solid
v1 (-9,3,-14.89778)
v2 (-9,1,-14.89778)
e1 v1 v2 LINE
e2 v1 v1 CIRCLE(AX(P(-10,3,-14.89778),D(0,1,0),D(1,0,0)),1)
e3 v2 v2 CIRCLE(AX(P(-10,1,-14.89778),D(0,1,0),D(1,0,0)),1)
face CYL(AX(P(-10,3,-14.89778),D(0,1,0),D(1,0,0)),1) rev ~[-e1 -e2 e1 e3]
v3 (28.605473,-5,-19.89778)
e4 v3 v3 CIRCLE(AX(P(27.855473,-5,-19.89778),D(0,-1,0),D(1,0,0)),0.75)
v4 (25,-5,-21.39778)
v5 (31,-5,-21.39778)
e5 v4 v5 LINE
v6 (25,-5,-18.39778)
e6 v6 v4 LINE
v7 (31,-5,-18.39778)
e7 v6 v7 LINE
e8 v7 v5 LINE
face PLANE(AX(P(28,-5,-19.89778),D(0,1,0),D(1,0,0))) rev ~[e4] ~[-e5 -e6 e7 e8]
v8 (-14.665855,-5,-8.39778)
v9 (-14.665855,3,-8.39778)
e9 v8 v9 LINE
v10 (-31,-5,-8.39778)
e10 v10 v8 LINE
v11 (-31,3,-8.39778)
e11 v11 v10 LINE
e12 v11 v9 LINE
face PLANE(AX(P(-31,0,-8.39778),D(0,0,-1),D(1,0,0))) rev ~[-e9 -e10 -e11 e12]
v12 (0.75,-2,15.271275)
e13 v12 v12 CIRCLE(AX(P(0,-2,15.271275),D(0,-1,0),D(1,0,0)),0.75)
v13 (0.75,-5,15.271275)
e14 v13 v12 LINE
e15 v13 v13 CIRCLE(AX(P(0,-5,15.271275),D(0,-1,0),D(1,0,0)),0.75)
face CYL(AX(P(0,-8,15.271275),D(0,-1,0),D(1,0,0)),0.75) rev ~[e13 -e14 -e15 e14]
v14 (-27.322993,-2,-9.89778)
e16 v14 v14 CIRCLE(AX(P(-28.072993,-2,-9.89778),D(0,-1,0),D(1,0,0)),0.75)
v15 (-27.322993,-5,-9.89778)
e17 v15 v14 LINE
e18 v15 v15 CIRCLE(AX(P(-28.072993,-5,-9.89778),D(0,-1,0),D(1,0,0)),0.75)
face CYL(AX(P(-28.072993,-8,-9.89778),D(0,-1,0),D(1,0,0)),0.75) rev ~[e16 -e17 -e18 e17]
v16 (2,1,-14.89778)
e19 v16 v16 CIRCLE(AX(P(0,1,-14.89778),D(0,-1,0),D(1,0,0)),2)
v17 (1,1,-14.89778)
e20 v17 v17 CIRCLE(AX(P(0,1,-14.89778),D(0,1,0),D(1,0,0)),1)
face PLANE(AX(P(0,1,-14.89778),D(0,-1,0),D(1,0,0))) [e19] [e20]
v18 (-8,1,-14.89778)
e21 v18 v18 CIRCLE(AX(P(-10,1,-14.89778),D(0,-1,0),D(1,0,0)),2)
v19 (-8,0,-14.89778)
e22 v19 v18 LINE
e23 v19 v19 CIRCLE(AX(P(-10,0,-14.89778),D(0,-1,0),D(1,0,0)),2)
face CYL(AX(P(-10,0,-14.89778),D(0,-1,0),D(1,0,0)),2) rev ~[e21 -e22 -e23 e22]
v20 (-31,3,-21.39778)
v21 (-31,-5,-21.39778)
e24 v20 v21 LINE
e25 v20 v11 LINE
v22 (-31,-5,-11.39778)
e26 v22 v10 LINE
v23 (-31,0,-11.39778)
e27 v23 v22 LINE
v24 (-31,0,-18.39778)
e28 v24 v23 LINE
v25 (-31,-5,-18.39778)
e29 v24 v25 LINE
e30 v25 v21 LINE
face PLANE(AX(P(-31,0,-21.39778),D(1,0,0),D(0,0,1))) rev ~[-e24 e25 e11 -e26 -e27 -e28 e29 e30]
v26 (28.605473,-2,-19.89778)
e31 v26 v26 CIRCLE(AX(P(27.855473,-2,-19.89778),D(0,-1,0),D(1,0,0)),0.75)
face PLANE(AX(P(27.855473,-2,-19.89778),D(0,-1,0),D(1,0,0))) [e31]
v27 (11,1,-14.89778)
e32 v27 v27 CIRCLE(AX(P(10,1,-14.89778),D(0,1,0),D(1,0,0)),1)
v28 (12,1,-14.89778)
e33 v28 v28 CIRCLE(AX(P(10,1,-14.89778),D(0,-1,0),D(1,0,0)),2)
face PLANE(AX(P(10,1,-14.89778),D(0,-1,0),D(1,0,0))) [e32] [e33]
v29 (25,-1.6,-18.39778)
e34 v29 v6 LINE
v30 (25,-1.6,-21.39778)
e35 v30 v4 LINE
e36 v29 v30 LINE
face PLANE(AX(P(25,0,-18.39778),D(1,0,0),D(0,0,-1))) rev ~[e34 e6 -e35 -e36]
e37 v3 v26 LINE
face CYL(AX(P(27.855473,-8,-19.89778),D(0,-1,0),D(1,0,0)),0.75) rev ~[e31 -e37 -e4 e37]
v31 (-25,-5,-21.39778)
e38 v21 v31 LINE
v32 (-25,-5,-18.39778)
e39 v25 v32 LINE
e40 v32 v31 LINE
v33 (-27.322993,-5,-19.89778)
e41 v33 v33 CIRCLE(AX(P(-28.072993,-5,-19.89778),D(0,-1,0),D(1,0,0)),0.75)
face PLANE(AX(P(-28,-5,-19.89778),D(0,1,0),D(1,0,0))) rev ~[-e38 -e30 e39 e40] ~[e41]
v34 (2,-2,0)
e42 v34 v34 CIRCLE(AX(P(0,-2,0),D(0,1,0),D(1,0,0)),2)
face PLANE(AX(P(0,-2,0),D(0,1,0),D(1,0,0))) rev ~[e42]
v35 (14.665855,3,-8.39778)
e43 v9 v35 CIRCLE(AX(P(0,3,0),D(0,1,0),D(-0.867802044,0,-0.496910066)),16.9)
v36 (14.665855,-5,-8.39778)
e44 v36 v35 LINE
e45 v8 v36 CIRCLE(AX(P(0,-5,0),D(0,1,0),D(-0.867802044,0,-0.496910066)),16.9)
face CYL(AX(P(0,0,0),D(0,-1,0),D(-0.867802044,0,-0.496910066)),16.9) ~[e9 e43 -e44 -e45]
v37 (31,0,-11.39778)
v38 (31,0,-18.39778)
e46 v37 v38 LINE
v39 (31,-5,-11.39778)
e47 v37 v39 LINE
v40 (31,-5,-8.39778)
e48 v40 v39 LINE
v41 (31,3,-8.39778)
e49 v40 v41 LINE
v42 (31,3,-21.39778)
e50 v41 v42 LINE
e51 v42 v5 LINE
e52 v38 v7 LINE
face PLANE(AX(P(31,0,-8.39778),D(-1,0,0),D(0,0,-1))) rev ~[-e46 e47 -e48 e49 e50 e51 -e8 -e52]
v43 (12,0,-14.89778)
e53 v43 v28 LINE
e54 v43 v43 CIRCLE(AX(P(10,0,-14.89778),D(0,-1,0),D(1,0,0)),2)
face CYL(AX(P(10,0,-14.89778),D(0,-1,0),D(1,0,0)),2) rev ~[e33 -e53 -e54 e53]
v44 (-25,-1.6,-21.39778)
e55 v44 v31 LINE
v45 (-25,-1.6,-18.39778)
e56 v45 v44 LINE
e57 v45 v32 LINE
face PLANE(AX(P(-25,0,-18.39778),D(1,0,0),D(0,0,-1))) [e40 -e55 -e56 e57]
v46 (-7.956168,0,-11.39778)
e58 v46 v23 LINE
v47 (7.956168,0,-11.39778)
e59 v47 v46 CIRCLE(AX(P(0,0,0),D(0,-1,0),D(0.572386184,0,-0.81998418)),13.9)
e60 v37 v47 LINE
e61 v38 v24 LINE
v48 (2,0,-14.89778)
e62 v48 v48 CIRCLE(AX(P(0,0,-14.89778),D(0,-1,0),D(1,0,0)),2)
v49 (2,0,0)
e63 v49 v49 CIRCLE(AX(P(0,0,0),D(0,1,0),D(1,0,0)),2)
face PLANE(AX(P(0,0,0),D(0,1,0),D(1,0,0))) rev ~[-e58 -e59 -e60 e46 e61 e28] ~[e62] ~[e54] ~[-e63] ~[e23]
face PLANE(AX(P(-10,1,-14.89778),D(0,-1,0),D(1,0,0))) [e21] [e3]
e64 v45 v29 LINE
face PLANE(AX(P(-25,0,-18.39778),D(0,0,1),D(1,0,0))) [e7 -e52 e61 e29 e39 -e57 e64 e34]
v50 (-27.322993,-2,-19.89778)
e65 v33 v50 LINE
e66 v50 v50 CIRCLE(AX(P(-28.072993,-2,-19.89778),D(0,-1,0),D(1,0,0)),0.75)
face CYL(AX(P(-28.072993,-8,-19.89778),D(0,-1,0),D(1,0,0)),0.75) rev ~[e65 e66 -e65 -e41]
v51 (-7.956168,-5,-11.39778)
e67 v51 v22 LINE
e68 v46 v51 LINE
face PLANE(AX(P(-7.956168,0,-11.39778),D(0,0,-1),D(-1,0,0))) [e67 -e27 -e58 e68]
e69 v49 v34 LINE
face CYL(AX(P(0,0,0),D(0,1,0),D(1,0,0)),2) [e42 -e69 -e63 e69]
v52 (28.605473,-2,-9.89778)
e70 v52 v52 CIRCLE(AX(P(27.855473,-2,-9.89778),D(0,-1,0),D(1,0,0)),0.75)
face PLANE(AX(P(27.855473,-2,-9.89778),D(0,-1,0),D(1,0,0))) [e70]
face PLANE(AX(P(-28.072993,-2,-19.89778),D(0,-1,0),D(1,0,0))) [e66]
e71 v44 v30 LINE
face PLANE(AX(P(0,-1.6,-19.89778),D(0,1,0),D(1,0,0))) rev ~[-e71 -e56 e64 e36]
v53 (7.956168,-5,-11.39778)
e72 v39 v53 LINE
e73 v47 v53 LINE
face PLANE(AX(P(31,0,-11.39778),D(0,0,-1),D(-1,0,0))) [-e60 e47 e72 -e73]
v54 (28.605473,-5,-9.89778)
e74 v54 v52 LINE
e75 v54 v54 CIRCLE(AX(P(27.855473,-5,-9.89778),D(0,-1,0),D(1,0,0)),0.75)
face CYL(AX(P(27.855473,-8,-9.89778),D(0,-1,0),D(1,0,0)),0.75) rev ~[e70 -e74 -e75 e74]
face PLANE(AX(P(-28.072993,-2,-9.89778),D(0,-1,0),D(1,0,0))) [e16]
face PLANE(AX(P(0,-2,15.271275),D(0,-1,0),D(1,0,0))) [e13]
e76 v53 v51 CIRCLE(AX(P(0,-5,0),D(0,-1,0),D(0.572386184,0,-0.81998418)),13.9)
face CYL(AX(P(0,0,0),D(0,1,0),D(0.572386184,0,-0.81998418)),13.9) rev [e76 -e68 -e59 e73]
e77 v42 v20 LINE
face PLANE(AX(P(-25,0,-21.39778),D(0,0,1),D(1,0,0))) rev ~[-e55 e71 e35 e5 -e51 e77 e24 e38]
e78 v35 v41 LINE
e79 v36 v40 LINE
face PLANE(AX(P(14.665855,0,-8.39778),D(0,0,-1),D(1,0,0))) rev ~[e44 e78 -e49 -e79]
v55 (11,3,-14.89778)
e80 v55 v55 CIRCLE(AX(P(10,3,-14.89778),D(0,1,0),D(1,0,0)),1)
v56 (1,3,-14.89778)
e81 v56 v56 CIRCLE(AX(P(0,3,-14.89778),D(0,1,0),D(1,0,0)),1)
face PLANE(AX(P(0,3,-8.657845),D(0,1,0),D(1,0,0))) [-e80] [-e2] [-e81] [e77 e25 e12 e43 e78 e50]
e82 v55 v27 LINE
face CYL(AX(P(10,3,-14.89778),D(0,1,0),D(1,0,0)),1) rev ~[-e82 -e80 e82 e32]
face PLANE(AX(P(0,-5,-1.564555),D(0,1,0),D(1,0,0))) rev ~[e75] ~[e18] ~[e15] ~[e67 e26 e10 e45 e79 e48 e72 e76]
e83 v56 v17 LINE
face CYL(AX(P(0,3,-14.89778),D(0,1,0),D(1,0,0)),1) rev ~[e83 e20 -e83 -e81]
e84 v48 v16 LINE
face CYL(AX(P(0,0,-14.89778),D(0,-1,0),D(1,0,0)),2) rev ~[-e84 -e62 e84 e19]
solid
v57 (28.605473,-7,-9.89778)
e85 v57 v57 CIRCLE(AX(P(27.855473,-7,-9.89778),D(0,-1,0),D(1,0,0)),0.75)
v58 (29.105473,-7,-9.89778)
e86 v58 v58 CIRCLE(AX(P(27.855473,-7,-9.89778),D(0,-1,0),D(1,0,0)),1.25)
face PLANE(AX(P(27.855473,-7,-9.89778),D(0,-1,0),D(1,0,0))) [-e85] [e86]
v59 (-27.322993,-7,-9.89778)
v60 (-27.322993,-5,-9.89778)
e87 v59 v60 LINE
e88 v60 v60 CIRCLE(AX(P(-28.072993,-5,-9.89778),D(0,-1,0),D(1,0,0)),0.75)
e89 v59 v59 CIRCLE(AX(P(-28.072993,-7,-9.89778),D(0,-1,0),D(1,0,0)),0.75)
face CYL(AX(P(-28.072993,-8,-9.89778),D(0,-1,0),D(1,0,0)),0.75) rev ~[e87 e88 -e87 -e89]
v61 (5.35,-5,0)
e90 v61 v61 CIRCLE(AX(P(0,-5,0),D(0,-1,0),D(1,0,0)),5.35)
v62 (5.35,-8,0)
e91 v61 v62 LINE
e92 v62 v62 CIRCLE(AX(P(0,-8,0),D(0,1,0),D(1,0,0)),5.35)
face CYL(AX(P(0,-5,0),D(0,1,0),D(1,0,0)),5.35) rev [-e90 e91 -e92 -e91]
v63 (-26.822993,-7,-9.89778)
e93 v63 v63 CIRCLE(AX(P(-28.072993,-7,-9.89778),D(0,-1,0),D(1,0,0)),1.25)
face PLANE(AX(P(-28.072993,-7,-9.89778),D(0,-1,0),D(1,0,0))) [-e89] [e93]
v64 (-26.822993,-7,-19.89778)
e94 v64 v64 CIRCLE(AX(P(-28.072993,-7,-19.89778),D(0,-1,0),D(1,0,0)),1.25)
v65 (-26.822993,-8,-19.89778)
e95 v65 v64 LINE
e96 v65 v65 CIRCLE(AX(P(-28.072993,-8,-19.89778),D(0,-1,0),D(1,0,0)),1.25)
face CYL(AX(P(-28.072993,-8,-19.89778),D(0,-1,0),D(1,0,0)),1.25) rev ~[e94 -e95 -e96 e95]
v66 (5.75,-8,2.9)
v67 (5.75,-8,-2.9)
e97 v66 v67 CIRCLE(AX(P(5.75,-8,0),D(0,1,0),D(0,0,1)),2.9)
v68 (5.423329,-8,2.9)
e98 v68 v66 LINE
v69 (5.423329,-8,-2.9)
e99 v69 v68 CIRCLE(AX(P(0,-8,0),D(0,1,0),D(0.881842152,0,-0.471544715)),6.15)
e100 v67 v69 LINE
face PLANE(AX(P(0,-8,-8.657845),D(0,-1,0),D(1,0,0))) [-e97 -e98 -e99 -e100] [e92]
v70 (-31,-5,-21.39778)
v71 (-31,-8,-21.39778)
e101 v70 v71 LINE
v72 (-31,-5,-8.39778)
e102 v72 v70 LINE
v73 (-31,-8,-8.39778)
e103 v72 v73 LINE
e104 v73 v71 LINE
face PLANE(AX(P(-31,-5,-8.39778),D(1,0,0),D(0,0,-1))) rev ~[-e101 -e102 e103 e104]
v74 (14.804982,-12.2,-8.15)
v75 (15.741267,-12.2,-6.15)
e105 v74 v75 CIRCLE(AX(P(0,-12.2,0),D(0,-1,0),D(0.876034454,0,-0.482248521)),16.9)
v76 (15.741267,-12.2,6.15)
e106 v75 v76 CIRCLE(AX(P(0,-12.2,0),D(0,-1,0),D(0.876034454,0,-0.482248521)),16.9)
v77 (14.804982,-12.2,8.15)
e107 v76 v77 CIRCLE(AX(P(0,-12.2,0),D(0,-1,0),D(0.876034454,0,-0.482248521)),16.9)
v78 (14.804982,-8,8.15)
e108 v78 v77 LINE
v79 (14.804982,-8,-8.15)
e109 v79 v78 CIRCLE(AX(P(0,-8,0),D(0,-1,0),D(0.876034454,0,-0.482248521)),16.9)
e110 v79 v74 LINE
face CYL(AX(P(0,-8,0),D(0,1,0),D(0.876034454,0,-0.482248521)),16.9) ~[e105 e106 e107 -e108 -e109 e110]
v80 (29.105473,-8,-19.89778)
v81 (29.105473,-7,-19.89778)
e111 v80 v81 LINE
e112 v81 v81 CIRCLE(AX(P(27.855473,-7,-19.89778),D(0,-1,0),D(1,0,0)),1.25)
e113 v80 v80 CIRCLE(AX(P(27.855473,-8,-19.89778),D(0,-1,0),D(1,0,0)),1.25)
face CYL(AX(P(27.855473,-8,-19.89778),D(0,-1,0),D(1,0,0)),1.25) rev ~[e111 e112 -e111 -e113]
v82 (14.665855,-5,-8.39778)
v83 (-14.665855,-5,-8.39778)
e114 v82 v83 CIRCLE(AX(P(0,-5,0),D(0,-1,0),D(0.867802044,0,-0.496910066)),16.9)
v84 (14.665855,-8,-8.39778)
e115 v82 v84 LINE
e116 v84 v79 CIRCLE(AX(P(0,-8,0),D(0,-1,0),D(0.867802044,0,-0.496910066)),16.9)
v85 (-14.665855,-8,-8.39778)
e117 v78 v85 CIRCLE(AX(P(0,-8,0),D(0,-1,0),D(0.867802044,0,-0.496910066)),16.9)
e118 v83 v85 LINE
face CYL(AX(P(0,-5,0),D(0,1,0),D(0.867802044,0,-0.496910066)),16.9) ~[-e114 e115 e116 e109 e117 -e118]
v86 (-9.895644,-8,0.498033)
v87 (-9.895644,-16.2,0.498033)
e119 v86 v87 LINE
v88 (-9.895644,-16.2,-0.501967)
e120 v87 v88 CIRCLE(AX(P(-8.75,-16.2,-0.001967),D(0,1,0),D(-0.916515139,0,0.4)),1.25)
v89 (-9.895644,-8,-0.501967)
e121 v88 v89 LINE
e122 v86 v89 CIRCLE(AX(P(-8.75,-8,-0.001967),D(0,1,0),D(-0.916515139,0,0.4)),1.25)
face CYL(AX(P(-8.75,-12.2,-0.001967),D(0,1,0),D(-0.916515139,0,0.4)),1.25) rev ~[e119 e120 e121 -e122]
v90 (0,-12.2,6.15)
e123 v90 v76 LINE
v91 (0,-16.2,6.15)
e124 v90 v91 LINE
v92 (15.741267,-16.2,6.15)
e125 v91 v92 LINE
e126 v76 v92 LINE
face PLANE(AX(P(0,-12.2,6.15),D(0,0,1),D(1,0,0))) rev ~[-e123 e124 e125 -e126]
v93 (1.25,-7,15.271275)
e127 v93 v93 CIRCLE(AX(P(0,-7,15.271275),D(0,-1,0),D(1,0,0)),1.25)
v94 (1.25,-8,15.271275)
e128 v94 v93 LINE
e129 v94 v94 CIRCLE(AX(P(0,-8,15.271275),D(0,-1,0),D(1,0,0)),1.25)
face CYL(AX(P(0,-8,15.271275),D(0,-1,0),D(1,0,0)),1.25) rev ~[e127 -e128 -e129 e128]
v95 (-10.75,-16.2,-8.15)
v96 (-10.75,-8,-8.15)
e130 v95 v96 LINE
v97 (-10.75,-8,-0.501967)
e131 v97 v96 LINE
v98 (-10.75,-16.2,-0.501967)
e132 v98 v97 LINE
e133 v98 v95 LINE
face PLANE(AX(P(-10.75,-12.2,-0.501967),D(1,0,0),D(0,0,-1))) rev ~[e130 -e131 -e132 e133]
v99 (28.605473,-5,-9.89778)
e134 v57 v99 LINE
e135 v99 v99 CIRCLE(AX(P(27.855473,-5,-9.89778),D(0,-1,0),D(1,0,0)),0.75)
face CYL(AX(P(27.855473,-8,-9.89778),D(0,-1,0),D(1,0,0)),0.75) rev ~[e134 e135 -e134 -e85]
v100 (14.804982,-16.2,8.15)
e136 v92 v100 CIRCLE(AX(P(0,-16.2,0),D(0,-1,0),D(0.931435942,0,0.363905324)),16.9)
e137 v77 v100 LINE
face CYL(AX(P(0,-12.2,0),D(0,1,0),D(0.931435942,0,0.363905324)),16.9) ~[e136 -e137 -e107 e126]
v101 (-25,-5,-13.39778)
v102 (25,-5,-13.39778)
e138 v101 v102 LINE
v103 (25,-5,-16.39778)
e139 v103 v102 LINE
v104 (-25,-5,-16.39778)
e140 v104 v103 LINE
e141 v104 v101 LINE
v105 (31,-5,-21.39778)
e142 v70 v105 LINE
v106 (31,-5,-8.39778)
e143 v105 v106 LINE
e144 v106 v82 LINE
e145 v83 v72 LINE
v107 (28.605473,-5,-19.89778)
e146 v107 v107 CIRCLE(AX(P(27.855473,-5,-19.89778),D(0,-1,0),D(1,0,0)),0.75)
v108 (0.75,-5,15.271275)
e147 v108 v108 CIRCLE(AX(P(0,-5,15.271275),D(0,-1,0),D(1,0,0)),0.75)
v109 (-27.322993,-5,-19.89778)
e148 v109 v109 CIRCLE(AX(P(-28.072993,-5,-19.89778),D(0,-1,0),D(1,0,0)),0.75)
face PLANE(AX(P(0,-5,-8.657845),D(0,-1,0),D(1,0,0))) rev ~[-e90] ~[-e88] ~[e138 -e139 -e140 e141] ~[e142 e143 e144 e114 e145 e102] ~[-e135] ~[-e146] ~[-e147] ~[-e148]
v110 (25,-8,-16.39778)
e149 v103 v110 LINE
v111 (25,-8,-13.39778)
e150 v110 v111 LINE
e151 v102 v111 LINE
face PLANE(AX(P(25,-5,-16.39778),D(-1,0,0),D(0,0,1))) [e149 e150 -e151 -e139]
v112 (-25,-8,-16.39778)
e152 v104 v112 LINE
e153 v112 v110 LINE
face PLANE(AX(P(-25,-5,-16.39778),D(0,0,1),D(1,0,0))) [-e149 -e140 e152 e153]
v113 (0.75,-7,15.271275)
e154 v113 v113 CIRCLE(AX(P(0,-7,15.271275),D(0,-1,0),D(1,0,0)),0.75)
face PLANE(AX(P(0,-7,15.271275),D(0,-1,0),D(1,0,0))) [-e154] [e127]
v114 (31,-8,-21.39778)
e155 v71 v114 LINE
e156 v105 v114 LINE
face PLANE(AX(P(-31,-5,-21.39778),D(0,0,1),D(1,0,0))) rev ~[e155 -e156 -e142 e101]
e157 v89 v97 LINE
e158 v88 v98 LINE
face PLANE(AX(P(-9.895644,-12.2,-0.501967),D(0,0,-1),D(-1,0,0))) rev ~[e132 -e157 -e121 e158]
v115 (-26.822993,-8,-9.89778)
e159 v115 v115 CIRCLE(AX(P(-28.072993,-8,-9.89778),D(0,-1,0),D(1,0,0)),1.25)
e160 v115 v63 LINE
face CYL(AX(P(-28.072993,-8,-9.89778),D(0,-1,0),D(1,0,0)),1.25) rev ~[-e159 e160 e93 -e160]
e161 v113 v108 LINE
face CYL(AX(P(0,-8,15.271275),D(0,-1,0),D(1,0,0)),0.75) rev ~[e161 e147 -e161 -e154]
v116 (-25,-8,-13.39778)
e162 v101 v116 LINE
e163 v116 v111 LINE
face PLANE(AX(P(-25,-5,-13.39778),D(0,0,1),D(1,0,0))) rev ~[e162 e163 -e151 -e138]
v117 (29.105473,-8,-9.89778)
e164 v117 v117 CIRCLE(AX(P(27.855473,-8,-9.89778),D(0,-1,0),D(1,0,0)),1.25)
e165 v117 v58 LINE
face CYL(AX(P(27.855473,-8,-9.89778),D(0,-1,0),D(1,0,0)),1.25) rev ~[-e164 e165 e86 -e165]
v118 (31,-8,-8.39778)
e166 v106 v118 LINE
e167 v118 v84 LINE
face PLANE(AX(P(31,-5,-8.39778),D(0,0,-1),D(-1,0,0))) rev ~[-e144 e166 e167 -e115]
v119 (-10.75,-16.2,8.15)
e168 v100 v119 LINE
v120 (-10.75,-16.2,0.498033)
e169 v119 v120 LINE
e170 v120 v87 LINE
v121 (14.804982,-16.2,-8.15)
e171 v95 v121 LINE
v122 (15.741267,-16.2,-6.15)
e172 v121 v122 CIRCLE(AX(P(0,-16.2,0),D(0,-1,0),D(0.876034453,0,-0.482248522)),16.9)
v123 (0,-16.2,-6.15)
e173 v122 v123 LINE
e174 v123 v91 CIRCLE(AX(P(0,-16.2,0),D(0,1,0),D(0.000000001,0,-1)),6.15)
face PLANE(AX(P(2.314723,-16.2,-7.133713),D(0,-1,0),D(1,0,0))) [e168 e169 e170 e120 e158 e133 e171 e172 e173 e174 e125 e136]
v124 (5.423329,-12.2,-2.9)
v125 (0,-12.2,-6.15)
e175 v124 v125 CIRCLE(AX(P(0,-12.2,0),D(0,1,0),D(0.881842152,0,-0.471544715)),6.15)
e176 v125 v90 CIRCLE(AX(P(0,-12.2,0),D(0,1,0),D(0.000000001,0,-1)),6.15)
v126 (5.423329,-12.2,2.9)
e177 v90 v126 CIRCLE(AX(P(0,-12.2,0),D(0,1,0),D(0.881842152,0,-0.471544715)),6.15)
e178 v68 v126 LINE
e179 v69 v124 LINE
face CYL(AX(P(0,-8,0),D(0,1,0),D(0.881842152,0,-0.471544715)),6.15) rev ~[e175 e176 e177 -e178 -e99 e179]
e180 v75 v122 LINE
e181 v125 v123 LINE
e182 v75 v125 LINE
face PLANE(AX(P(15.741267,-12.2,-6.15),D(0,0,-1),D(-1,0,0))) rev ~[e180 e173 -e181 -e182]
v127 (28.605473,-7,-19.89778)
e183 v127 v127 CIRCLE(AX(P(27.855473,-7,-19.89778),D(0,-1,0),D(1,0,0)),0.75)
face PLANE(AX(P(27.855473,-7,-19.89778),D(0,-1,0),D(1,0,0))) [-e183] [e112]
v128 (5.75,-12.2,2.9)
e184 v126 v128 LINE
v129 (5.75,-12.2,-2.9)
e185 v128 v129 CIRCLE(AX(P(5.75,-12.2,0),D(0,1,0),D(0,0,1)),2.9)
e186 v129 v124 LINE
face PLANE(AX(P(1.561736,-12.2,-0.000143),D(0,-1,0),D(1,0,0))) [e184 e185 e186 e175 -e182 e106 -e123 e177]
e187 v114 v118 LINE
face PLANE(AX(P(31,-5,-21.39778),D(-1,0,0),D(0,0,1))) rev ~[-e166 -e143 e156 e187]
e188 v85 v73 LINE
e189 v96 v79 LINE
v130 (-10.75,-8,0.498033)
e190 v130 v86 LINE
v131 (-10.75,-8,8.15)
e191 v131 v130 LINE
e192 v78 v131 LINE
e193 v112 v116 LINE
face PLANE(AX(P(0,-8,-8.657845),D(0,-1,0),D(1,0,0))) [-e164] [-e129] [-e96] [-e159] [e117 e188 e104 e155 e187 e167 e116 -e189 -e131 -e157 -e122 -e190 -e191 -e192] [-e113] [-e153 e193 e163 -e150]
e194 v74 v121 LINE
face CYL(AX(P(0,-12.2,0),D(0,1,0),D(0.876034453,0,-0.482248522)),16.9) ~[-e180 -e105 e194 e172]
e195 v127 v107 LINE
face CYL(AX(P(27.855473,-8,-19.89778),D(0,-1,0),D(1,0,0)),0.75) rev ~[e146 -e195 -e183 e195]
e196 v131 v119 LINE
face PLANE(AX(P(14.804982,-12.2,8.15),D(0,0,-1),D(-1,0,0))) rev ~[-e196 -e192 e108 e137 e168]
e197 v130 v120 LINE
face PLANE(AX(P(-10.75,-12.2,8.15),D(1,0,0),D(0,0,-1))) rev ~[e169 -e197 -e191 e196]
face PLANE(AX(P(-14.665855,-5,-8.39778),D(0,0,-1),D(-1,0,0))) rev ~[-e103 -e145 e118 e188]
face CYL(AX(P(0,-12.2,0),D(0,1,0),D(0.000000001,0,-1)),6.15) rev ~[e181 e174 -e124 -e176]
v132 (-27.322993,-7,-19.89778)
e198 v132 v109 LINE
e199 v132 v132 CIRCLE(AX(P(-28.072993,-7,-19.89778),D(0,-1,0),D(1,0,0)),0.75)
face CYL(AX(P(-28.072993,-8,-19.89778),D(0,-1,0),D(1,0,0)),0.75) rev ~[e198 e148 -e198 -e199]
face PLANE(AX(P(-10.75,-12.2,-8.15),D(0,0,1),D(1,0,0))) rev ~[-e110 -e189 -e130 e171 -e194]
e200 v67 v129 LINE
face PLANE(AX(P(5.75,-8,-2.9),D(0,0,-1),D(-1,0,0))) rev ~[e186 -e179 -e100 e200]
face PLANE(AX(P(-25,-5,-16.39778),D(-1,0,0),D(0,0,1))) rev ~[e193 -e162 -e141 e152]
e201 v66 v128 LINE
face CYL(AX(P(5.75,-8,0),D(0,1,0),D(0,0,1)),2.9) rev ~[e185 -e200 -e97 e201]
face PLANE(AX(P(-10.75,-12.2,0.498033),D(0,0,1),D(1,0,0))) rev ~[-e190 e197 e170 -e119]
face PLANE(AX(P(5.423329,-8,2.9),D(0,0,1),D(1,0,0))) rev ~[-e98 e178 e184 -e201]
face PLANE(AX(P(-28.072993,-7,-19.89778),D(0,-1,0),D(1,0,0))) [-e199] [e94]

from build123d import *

# Parameters (mm, degrees)
BOSS_EXTRUDE1_DEPTH      = 5
SKETCH1_W                = 6
SKETCH1_H                = 3
BOSS_EXTRUDE1_2_DEPTH    = 5
BOSS_EXTRUDE1_3_DEPTH    = 5
BOSS_EXTRUDE2_START      = 3
SKETCH1_4_R              = 2
BOSS_EXTRUDE2_DEPTH      = 3
BOSS_EXTRUDE6_DEPTH      = 3
BOSS_EXTRUDE6_DEPTH_BACK = 2
SKETCH1_7_R              = 2
SKETCH3_W                = 50
SKETCH3_H                = 3
BOSS_EXTRUDE7_DEPTH      = 3
SKETCH5_R                = 1
CUT_EXTRUDE1_DEPTH       = 6
CUT_EXTRUDE2_DEPTH       = 2.2
CUT_EXTRUDE2_DEPTH_BACK  = 1
SKETCH6_R                = 2
SKETCH1_9_W              = 50
SKETCH1_9_H              = 3
BOSS_EXTRUDE9_DEPTH      = 1.6
SKETCH3_5_R              = 5.35
CUT_EXTRUDE3_DEPTH       = 5
SKETCH11_R               = 0.75
CUT_EXTRUDE5_DEPTH       = 6
BOSS_EXTRUDE11_DEPTH     = 4.2
BOSS_EXTRUDE12_DEPTH     = 4
SKETCH11_4_R             = 1.25
SKETCH11_4_R_2           = 0.75
CUT_EXTRUDE6_DEPTH       = 1


with BuildPart() as part:
    # Sketch1 → Boss-Extrude1 (new body)
    with BuildSketch(Plane(origin=(0, 0, 0), x_dir=(1, 0, 0), z_dir=(0, 1, 0))):
        with BuildLine():
            Line((-31, 11.397780108), (-31, 8.397780108))
            Line((-31, 8.397780108), (-14.665854535, 8.397780108))
            ThreePointArc((-14.665854535, 8.397780108), (0, -16.9), (14.665854535, 8.397780108))
            Line((14.665854535, 8.397780108), (31, 8.397780108))
            Line((31, 8.397780108), (31, 11.397780108))
            Line((31, 11.397780108), (7.956167959, 11.397780108))
            ThreePointArc((7.956167959, 11.397780108), (0, -13.9), (-7.956167959, 11.397780108))
            Line((-7.956167959, 11.397780108), (-31, 11.397780108))
        make_face()
    extrude(amount=-BOSS_EXTRUDE1_DEPTH)



with BuildPart() as body_2:
    # Sketch1 → Boss-Extrude1 2 (new body)
    with BuildSketch(Plane(origin=(0, 0, 0), x_dir=(1, 0, 0), z_dir=(0, 1, 0))):
        with Locations((-28, 19.897780108)):
            Rectangle(SKETCH1_W, SKETCH1_H)
    extrude(amount=-BOSS_EXTRUDE1_2_DEPTH)


with BuildPart() as body_3:
    # Sketch1 → Boss-Extrude1 3 (new body)
    with BuildSketch(Plane(origin=(0, 0, 0), x_dir=(1, 0, 0), z_dir=(0, 1, 0))):
        with Locations((28, 19.897780108)):
            Rectangle(SKETCH1_W, SKETCH1_H)
    extrude(amount=-BOSS_EXTRUDE1_3_DEPTH)


with BuildPart() as part_1:
    add(part.part)

    add(body_2.part)  # Boss-Extrude2 merges body 2

    add(body_3.part)  # Boss-Extrude2 merges body 3
    # Sketch1<4> → Boss-Extrude2 (add)
    with BuildSketch(Plane(origin=(0, 0, 0), x_dir=(1, 0, 0), z_dir=(0, 1, 0)).offset(BOSS_EXTRUDE2_START)):
        with BuildLine():
            Line((-31, 8.397780108), (-14.665854535, 8.397780108))
            ThreePointArc((-14.665854535, 8.397780108), (0, -16.9), (14.665854535, 8.397780108))
            Line((14.665854535, 8.397780108), (31, 8.397780108))
            Line((31, 8.397780108), (31, 21.397780108))
            Line((31, 21.397780108), (-31, 21.397780108))
            Line((-31, 21.397780108), (-31, 8.397780108))
        make_face()
        Circle(SKETCH1_4_R, mode=Mode.SUBTRACT)
    extrude(amount=-BOSS_EXTRUDE2_DEPTH)

    # Sketch1<7> → Boss-Extrude6 (add, two sides: drawn at the far end of the back side and taken through both)
    with BuildSketch(Plane(origin=(0, 0, 0), x_dir=(1, 0, 0), z_dir=(0, 1, 0)).offset(-BOSS_EXTRUDE6_DEPTH_BACK)):
        Circle(SKETCH1_7_R)
    extrude(amount=BOSS_EXTRUDE6_DEPTH + BOSS_EXTRUDE6_DEPTH_BACK)

    # Sketch5 → Cut-Extrude1 (cut)
    with BuildSketch(Plane(origin=(0, 3, 0), x_dir=(1, 0, 0), z_dir=(0, 1, 0))):
        with Locations((0, 14.897780108)):
            Circle(SKETCH5_R)
        with Locations((10, 14.897780108)):
            Circle(SKETCH5_R)
        with Locations((-10, 14.897780108)):
            Circle(SKETCH5_R)
    extrude(amount=-CUT_EXTRUDE1_DEPTH, mode=Mode.SUBTRACT)

    # Sketch6 → Cut-Extrude2 (cut, two sides: drawn at the far end of the back side and taken through both)
    with BuildSketch(Plane.XZ.offset(-CUT_EXTRUDE2_DEPTH_BACK)):
        with Locations((-10, -14.897780108)):
            Circle(SKETCH6_R)
        with Locations((0, -14.897780108)):
            Circle(SKETCH6_R)
        with Locations((10, -14.897780108)):
            Circle(SKETCH6_R)
    extrude(amount=CUT_EXTRUDE2_DEPTH + CUT_EXTRUDE2_DEPTH_BACK, mode=Mode.SUBTRACT)

    # Sketch1<9> → Boss-Extrude9 (add)
    with BuildSketch(Plane(origin=(0, 0, 0), x_dir=(1, 0, 0), z_dir=(0, 1, 0))):
        with Locations((0, 19.897780108)):
            Rectangle(SKETCH1_9_W, SKETCH1_9_H)
    extrude(amount=-BOSS_EXTRUDE9_DEPTH)


with BuildPart() as body_2_2:
    # Sketch3 → Boss-Extrude7 (new body)
    with BuildSketch(Plane.XZ.offset(5)):
        with BuildLine():
            Line((31, -8.397780108), (14.665854535, -8.397780108))
            ThreePointArc((14.665854535, -8.397780108), (0, 16.9), (-14.665854535, -8.397780108))
            Line((-14.665854535, -8.397780108), (-31, -8.397780108))
            Line((-31, -8.397780108), (-31, -21.397780108))
            Line((-31, -21.397780108), (31, -21.397780108))
            Line((31, -21.397780108), (31, -8.397780108))
        make_face()
        with Locations((0, -14.897780108)):
            Rectangle(SKETCH3_W, SKETCH3_H, mode=Mode.SUBTRACT)
    extrude(amount=BOSS_EXTRUDE7_DEPTH)

    # Sketch3<5> → Cut-Extrude3 (cut)
    with BuildSketch(Plane.XZ.offset(5)):
        Circle(SKETCH3_5_R)
    extrude(amount=CUT_EXTRUDE3_DEPTH, mode=Mode.SUBTRACT)


with BuildPart() as cut_extrude5_tool:
    # Sketch11 → Cut-Extrude5 (new body)
    with BuildSketch(Plane.XZ.offset(8)):
        with Locations((-28.07299319, -9.897780108)):
            Circle(SKETCH11_R)
        with Locations((27.855473314, -9.897780108)):
            Circle(SKETCH11_R)
        with Locations((27.855473314, -19.897780108)):
            Circle(SKETCH11_R)
        with Locations((-28.07299319, -19.897780108)):
            Circle(SKETCH11_R)
        with Locations((0, 15.271275141)):
            Circle(SKETCH11_R)
    extrude(amount=-CUT_EXTRUDE5_DEPTH)


with BuildPart() as part_2:
    add(part_1.part)

    # Cut-Extrude5: cut by cut_extrude5_tool
    add(cut_extrude5_tool.part, mode=Mode.SUBTRACT)


with BuildPart() as body_2_2_1:
    add(body_2_2.part)

    # Cut-Extrude5: cut by cut_extrude5_tool
    add(cut_extrude5_tool.part, mode=Mode.SUBTRACT)

    # Sketch12 → Boss-Extrude11 (add)
    with BuildSketch(Plane.XZ.offset(8)):
        with BuildLine():
            Line((-10.75, -8.15), (14.804982269, -8.15))
            ThreePointArc((14.804982269, -8.15), (16.9, 0), (14.804982269, 8.15))
            Line((14.804982269, 8.15), (-10.75, 8.15))
            Line((-10.75, 8.15), (-10.75, 0.49803322))
            Line((-10.75, 0.49803322), (-9.895643924, 0.49803322))
            ThreePointArc((-9.895643924, 0.49803322), (-7.5, -0.00196678), (-9.895643924, -0.50196678))
            Line((-9.895643924, -0.50196678), (-10.75, -0.50196678))
            Line((-10.75, -0.50196678), (-10.75, -8.15))
        make_face()
        with BuildLine():
            Line((5.423329236, 2.9), (5.75, 2.9))
            ThreePointArc((5.75, 2.9), (8.65, 0), (5.75, -2.9))
            Line((5.75, -2.9), (5.423329236, -2.9))
            ThreePointArc((5.423329236, -2.9), (-6.15, 0), (5.423329236, 2.9))
        make_face(mode=Mode.SUBTRACT)
    extrude(amount=BOSS_EXTRUDE11_DEPTH)

    # Sketch13 → Boss-Extrude12 (add)
    with BuildSketch(Plane.XZ.offset(12.2)):
        with BuildLine():
            Line((-10.75, -8.15), (14.804982269, -8.15))
            ThreePointArc((14.804982269, -8.15), (15.305827078, -7.165309307), (15.74126742, -6.15))
            Line((15.74126742, -6.15), (6e-09, -6.15))
            ThreePointArc((6e-09, -6.15), (-6.15, -3e-09), (0, 6.15))
            Line((0, 6.15), (15.74126742, 6.15))
            ThreePointArc((15.74126742, 6.15), (15.305827078, 7.165309307), (14.804982269, 8.15))
            Line((14.804982269, 8.15), (-10.75, 8.15))
            Line((-10.75, 8.15), (-10.75, 0.49803322))
            Line((-10.75, 0.49803322), (-9.895643924, 0.49803322))
            ThreePointArc((-9.895643924, 0.49803322), (-7.5, -0.00196678), (-9.895643924, -0.50196678))
            Line((-9.895643924, -0.50196678), (-10.75, -0.50196678))
            Line((-10.75, -0.50196678), (-10.75, -8.15))
        make_face()
    extrude(amount=BOSS_EXTRUDE12_DEPTH)

    # Sketch11<4> → Cut-Extrude6 (cut)
    # profile 1 of 5: a face of its own
    with BuildSketch(Plane.XZ.offset(8)):
        with Locations((27.855473314, -19.897780108)):
            Circle(SKETCH11_4_R)
        with Locations((27.855473314, -19.897780108)):
            Circle(SKETCH11_4_R_2, mode=Mode.SUBTRACT)
    # profile 2 of 5: a face of its own
    with BuildSketch(Plane.XZ.offset(8)):
        with Locations((27.855473314, -9.897780108)):
            Circle(SKETCH11_4_R)
        with Locations((27.855473314, -9.897780108)):
            Circle(SKETCH11_4_R_2, mode=Mode.SUBTRACT)
    # profile 3 of 5: a face of its own
    with BuildSketch(Plane.XZ.offset(8)):
        with Locations((-28.07299319, -19.897780108)):
            Circle(SKETCH11_4_R)
        with Locations((-28.07299319, -19.897780108)):
            Circle(SKETCH11_4_R_2, mode=Mode.SUBTRACT)
    # profile 4 of 5: a face of its own
    with BuildSketch(Plane.XZ.offset(8)):
        with Locations((-28.07299319, -9.897780108)):
            Circle(SKETCH11_4_R)
        with Locations((-28.07299319, -9.897780108)):
            Circle(SKETCH11_4_R_2, mode=Mode.SUBTRACT)
    # profile 5 of 5: a face of its own
    with BuildSketch(Plane.XZ.offset(8)):
        with Locations((0, 15.271275141)):
            Circle(SKETCH11_4_R)
        with Locations((0, 15.271275141)):
            Circle(SKETCH11_4_R_2, mode=Mode.SUBTRACT)
    extrude(amount=-CUT_EXTRUDE6_DEPTH, mode=Mode.SUBTRACT)


solid = Compound([part_2.part, body_2_2_1.part])
